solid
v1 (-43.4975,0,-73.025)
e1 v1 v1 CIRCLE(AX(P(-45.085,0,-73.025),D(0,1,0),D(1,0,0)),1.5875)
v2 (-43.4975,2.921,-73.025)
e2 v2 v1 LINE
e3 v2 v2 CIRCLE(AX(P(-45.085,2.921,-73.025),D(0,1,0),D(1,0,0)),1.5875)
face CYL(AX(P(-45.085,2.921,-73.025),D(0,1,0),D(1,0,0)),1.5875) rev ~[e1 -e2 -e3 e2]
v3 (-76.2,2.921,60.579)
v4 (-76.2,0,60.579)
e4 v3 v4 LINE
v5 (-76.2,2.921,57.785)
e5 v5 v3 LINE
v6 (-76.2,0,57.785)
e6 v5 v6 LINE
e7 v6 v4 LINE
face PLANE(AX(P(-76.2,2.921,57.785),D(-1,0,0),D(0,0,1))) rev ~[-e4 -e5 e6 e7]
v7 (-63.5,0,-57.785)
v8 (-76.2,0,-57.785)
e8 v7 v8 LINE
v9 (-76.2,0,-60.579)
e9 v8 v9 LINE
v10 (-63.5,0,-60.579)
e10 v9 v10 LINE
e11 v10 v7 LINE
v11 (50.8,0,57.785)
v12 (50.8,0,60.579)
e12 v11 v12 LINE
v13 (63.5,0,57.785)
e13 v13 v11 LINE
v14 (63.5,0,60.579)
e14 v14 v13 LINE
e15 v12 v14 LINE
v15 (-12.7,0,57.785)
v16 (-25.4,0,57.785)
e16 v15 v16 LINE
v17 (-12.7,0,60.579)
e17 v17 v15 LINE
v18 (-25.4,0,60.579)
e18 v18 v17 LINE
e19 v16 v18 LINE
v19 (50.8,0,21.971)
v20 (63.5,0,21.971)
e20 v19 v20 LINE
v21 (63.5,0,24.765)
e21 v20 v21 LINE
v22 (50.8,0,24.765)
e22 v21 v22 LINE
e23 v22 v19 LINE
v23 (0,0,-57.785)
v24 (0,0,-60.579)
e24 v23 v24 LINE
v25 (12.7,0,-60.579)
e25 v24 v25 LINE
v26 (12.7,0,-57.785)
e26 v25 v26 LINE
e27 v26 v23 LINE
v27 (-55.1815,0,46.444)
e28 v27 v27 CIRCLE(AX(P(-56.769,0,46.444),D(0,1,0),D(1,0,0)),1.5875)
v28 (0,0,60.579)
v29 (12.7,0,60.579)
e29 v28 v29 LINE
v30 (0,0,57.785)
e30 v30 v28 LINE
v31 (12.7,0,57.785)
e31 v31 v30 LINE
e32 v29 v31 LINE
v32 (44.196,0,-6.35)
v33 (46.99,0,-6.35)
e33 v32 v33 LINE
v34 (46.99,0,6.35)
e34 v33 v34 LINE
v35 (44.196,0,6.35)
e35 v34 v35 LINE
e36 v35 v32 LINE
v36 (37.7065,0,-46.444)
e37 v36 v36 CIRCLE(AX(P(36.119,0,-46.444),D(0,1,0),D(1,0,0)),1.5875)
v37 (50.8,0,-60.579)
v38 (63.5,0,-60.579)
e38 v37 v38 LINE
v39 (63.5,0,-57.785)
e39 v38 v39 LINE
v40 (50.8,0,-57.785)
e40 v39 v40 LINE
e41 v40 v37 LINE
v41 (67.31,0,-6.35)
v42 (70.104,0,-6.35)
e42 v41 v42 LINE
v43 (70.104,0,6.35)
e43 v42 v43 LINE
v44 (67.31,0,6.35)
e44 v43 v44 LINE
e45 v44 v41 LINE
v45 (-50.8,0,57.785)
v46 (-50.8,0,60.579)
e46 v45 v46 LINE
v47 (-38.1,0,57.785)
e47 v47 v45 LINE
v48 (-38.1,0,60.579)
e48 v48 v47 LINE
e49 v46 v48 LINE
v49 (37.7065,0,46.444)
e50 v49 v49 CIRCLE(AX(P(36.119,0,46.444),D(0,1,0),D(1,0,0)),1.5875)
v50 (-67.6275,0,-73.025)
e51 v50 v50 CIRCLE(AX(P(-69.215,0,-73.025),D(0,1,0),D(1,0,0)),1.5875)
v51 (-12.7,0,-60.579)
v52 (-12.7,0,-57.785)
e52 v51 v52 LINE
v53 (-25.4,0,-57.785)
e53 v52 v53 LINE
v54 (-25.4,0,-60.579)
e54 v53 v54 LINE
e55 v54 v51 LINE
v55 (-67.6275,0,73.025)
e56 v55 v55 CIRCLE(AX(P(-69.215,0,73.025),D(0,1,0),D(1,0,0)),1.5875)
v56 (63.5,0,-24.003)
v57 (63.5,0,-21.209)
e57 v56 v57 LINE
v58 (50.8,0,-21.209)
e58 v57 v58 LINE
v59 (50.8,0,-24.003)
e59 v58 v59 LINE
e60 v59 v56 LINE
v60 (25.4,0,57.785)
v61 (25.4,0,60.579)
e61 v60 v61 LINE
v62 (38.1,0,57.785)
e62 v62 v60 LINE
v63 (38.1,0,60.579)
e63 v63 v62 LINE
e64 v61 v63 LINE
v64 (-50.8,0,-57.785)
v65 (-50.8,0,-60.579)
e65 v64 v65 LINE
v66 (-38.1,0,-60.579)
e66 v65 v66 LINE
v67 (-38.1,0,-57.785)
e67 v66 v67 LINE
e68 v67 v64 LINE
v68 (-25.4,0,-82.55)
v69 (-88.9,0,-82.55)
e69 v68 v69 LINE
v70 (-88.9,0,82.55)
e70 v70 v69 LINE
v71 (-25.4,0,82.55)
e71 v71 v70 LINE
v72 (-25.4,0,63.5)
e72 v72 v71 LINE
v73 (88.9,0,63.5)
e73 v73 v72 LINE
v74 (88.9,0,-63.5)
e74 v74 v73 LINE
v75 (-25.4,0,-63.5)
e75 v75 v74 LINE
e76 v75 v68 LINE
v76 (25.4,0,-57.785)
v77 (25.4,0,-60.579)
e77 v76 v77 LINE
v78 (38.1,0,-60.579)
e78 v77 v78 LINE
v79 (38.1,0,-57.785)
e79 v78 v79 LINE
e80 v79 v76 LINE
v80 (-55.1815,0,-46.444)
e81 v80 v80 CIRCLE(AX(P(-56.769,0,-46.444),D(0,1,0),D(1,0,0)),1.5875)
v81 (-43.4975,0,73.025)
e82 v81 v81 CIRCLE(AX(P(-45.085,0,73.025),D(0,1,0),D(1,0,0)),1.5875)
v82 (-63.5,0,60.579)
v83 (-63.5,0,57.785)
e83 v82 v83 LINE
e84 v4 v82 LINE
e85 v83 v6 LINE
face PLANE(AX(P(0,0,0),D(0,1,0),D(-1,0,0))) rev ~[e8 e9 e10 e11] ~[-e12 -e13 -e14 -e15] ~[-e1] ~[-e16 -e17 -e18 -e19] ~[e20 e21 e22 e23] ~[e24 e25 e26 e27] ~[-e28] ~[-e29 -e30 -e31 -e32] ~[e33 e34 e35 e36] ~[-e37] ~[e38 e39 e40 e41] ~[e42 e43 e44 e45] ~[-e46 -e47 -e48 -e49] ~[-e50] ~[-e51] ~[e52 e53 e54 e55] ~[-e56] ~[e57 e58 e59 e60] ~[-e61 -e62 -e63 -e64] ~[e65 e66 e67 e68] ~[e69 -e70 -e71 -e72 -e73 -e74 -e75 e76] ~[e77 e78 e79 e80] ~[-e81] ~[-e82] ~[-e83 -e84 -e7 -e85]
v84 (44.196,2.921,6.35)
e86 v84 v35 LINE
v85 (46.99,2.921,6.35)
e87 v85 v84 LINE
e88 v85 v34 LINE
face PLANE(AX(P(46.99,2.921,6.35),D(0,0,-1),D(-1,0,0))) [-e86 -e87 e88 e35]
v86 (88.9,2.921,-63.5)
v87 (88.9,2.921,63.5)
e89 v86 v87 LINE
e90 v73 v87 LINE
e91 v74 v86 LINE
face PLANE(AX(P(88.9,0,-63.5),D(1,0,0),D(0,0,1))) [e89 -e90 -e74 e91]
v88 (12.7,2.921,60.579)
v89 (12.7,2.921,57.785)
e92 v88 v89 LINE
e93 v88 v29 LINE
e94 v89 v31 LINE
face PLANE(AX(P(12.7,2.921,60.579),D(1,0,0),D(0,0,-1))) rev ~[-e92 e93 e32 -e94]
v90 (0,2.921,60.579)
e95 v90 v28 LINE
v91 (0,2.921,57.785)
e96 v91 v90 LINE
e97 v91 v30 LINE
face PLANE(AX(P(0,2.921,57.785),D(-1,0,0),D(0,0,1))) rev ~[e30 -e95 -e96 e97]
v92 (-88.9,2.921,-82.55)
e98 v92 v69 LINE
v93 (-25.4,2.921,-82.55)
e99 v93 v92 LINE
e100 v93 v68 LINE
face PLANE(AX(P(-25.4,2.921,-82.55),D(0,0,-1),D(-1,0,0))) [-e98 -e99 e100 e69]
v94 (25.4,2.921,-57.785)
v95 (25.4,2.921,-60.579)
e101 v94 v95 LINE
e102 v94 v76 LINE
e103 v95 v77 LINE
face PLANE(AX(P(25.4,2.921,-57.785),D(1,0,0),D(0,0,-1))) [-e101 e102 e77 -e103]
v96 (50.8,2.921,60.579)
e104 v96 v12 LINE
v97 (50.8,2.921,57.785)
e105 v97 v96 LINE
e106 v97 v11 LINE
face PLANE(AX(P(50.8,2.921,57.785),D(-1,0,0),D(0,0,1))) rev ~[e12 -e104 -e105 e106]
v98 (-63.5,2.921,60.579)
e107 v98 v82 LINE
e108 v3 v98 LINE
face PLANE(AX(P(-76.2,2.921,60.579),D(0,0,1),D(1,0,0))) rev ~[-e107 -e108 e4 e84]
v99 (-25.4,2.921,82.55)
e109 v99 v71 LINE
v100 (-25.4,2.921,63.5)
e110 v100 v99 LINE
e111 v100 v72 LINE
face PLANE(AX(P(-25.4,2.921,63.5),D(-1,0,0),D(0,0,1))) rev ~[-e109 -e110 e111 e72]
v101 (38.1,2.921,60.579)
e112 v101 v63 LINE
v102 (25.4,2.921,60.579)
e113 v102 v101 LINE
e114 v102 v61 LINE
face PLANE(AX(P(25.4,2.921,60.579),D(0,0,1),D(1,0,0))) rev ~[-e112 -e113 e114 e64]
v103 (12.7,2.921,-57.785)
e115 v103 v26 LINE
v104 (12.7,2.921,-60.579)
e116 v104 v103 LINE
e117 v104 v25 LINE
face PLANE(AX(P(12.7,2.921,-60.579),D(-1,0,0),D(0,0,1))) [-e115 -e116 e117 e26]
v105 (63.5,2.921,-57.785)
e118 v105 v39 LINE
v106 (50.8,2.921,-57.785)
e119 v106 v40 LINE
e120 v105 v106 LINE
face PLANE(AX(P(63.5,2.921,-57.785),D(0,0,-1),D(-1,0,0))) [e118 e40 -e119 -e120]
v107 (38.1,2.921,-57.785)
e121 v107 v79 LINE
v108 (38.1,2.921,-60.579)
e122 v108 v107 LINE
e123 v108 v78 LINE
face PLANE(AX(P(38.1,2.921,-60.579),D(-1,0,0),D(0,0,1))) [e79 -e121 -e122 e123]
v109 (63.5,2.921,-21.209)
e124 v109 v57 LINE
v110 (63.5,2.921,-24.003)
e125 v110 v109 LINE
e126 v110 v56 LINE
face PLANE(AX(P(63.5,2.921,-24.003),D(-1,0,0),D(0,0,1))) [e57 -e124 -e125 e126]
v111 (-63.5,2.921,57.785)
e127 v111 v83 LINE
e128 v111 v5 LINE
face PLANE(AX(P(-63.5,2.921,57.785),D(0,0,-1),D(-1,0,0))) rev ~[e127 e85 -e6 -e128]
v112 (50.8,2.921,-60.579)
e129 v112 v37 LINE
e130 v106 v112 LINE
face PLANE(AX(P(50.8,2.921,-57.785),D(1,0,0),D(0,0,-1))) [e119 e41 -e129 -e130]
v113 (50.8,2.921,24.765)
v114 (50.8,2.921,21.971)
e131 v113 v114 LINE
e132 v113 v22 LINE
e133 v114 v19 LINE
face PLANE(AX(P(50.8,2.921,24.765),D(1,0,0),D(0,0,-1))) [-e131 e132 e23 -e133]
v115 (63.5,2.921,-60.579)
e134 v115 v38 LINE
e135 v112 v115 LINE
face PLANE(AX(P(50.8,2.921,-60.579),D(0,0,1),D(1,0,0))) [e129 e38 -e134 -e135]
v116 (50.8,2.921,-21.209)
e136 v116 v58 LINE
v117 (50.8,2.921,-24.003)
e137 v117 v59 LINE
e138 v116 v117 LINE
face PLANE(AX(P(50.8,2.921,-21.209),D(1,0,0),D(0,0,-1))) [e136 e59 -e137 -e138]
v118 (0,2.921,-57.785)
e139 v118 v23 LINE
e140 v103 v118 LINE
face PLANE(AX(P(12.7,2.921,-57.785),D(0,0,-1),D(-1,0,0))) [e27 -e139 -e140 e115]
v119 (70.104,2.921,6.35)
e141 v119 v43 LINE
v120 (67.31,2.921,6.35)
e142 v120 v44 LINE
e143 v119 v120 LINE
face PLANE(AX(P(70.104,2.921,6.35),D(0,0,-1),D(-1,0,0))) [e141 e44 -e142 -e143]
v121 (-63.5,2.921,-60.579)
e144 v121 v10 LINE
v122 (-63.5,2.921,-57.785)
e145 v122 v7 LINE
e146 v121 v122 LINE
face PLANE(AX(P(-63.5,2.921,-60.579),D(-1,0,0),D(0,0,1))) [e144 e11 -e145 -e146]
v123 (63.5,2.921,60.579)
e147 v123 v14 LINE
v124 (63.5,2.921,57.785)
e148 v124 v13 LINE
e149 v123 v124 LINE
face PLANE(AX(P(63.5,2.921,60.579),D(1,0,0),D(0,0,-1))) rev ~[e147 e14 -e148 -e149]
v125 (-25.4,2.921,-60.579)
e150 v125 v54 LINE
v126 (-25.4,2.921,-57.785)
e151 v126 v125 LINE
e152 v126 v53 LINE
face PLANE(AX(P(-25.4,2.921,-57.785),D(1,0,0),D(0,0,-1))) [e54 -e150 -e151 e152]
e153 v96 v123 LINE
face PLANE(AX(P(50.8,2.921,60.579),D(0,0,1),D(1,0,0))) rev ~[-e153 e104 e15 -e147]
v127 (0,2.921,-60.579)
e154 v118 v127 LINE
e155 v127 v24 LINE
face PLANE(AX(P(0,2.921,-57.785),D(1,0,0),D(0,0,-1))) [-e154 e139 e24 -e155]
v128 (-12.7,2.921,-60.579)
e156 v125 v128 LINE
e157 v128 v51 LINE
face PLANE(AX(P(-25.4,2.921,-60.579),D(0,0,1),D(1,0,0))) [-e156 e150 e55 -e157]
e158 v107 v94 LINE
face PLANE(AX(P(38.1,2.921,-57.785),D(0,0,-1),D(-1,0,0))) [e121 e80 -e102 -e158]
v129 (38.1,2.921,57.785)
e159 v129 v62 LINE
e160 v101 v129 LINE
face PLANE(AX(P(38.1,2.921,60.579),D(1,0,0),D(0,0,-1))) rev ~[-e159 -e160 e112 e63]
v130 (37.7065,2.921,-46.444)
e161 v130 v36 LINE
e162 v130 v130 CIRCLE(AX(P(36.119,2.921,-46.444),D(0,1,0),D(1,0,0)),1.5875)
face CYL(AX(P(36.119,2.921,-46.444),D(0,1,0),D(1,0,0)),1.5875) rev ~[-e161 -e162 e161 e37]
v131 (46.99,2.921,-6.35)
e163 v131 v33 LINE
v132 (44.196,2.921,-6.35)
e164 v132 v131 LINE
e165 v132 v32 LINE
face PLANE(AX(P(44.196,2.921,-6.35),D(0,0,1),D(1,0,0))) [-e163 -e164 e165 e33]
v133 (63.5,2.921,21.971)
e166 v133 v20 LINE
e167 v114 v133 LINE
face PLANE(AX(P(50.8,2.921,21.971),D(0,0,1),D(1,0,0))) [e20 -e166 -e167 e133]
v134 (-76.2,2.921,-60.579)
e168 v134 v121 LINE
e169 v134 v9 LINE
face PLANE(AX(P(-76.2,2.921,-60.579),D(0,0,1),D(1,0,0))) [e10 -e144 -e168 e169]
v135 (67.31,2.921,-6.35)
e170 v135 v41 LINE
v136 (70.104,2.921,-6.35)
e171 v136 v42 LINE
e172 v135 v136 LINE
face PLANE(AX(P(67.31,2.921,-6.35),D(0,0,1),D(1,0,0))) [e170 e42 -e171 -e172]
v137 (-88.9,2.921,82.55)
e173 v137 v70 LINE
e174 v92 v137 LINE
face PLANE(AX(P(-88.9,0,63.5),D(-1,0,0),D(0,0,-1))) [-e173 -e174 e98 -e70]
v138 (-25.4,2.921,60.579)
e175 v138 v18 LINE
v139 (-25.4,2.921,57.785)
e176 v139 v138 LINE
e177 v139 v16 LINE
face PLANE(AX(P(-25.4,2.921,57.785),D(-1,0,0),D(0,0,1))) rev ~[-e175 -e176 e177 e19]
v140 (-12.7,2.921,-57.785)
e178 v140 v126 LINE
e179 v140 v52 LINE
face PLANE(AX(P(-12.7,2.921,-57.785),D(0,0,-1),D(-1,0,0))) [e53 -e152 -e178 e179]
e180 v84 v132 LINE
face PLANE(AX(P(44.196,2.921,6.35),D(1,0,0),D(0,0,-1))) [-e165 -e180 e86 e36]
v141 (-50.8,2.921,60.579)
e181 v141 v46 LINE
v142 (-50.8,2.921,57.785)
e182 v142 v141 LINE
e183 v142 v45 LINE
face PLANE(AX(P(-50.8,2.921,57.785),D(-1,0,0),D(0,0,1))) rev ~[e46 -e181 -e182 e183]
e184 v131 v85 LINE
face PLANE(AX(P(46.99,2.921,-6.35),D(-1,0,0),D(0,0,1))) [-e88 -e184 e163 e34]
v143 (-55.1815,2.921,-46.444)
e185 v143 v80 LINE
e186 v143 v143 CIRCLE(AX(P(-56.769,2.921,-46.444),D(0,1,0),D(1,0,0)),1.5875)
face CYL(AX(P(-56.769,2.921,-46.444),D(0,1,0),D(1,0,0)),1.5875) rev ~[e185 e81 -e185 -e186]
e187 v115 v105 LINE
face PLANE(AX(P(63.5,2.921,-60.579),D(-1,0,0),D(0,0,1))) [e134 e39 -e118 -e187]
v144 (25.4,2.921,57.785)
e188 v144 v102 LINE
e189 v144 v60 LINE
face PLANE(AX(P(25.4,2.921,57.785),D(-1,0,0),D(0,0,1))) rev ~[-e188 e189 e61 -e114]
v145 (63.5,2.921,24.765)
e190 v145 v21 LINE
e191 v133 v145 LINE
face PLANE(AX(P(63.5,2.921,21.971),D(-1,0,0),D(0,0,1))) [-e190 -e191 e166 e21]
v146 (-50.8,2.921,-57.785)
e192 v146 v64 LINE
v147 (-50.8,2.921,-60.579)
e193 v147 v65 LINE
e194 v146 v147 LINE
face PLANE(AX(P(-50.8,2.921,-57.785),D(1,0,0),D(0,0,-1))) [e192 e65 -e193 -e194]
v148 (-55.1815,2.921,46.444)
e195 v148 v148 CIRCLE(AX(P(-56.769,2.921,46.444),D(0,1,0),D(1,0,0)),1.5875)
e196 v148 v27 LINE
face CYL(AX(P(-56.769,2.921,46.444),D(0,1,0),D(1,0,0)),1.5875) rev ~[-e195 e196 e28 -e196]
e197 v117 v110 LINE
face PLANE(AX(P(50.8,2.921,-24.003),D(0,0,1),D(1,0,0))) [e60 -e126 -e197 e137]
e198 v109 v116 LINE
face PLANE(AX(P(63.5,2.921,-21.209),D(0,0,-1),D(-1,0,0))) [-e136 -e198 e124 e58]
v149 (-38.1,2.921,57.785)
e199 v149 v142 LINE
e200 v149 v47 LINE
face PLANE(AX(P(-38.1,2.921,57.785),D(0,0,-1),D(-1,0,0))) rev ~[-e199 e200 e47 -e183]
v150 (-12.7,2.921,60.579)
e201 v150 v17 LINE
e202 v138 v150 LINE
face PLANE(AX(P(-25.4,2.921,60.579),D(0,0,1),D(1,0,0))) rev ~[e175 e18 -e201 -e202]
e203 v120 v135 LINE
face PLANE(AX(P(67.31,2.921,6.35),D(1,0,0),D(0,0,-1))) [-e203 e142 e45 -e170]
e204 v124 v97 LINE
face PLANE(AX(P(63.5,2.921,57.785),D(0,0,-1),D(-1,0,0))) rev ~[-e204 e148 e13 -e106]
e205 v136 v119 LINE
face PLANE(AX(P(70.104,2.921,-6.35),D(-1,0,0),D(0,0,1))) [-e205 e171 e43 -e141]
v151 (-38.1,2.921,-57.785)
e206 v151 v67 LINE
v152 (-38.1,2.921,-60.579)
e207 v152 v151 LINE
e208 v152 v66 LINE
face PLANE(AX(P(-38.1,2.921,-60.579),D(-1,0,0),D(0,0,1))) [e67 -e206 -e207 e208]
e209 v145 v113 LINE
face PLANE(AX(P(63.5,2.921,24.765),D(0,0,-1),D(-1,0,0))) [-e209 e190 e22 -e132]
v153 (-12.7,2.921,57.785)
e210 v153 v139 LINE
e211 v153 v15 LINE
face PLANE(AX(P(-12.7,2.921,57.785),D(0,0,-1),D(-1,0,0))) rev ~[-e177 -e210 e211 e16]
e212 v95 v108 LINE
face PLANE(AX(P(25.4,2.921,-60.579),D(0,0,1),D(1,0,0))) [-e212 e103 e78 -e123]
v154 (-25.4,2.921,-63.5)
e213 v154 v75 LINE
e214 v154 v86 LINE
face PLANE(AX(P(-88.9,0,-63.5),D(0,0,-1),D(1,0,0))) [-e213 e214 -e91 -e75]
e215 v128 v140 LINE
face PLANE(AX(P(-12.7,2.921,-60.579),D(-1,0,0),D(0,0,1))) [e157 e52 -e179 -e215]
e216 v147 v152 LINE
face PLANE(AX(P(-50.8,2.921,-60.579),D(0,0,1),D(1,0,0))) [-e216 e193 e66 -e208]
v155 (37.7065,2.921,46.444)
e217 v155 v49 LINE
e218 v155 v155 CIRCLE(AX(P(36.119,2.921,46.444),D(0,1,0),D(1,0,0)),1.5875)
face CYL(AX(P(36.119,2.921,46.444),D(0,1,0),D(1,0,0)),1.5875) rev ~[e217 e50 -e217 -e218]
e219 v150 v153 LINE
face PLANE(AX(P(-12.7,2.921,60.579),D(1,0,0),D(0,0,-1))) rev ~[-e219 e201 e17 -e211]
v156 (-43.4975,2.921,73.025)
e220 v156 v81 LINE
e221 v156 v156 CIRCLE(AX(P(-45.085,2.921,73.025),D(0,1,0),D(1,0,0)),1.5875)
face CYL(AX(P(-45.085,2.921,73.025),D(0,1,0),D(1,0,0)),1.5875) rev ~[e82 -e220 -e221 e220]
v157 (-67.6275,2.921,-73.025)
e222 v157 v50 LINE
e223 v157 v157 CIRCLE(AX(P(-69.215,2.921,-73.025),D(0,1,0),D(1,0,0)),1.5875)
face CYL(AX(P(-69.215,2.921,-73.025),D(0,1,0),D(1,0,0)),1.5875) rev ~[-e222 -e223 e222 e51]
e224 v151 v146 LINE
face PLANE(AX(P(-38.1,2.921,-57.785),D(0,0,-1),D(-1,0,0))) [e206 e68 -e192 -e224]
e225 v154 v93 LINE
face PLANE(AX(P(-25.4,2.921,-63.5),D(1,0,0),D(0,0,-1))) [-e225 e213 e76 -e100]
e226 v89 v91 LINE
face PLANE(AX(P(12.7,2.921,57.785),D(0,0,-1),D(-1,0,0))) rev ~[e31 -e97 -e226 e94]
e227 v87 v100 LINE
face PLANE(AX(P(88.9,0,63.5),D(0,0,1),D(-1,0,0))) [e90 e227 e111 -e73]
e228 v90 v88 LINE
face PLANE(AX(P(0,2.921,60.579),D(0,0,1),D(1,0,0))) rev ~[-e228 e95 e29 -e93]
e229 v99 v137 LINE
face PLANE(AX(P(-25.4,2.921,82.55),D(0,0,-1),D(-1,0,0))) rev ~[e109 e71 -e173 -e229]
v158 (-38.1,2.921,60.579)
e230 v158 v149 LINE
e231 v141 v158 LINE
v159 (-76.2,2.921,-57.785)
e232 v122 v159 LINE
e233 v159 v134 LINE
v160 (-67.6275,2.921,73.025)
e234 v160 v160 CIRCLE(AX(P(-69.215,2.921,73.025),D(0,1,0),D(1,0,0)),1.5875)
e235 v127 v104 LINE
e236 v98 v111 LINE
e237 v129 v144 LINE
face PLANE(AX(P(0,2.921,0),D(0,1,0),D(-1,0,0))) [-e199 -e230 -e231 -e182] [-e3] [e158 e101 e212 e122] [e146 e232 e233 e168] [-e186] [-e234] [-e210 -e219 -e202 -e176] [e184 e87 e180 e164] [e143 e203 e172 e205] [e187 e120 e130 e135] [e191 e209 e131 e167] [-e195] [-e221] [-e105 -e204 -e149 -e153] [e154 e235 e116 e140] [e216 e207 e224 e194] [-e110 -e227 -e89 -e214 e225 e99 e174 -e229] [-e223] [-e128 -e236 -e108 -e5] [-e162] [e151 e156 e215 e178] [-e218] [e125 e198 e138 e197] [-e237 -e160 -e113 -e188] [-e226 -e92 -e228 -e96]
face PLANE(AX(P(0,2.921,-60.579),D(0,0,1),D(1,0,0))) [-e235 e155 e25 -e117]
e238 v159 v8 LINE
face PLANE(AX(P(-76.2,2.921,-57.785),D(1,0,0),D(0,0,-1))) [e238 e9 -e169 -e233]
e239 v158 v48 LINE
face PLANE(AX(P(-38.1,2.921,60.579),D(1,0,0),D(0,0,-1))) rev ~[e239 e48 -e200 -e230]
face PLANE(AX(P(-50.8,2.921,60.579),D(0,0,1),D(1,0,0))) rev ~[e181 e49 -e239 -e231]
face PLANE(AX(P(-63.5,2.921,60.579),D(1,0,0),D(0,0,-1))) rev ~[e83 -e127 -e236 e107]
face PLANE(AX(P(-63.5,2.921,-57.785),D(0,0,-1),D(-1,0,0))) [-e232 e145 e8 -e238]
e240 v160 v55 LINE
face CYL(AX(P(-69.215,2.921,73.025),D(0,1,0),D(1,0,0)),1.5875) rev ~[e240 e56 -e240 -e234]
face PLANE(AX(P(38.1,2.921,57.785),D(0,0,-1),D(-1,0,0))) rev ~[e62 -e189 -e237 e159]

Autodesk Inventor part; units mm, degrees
ref_plane "YZ Plane" through (0, 0, 0) normal (1, 0, 0) x (0, 1, 0)
ref_plane "XZ Plane" through (0, 0, 0) normal (0, 1, 0) x (-1, 0, 0)
ref_plane "XY Plane" through (0, 0, 0) normal (0, 0, 1) x (1, 0, 0)
sketch "Sketch1" plane through (0, 0, 0) normal (0, 1, 0) x (-1, 0, 0)
  line L0 (-88.9, 63.5) -> (88.9, 63.5)
  line L1 (88.9, 63.5) -> (88.9, -63.5)
  line L2 (88.9, -63.5) -> (-88.9, -63.5)
  line L3 (-88.9, -63.5) -> (-88.9, 63.5)
  line L4 (-88.9, 63.5) -> (88.9, -63.5) construction
  line L5 (88.9, 63.5) -> (-88.9, -63.5) construction
  point P0 (0, 0)
  dimension "d0" = 127
  dimension "d1" = 177.8
extrude "Extrusion1" add sketch "Sketch1" along normal blind 2.921
sketch "Sketch2" plane through (0, 2.921, 0) normal (0, 1, 0) x (1, 0, 0)
  line L0 (-60.325, -50) -> (39.675, -50) construction
  line L1 (39.675, -50) -> (39.675, 50) construction
  line L2 (39.675, 50) -> (-60.325, 50) construction
  line L3 (-60.325, 50) -> (-60.325, -50) construction
  circle A0 centre (36.119, -46.444) radius 1.5875
  circle A1 centre (-56.769, -46.444) radius 1.5875
  circle A2 centre (-56.769, 46.444) radius 1.5875
  circle A3 centre (36.119, 46.444) radius 1.5875
  point P0 (0, 0)
  dimension "d8" = 100
  dimension "d9" = 100
  dimension "d10" = 50
  dimension "d11" = 60.325
  dimension "d12" = 3.175
  dimension "d13" = 3.175
  dimension "d14" = 3.175
  dimension "d15" = 3.175
  dimension "d16" = 3.556
  dimension "d17" = 3.556
  dimension "d18" = 3.556
  dimension "d19" = 3.556
  dimension "d20" = 3.556
  dimension "d21" = 3.556
  dimension "d22" = 3.556
  dimension "d23" = 3.556
extrude "Extrusion2" cut sketch "Sketch2" against normal blind 25.4
sketch "Sketch4" plane through (0, 2.921, 0) normal (0, 1, 0) x (1, 0, 0)
  line L0 (-76.2, -60.579) -> (-63.5, -60.579)
  line L1 (-63.5, -60.579) -> (-63.5, -57.785)
  line L2 (-63.5, -57.785) -> (-76.2, -57.785)
  line L3 (-76.2, -57.785) -> (-76.2, -60.579)
  line L4 (-76.2, 60.579) -> (-63.5, 60.579)
  line L5 (-63.5, 60.579) -> (-63.5, 57.785)
  line L6 (-63.5, 57.785) -> (-76.2, 57.785)
  line L7 (-76.2, 57.785) -> (-76.2, 60.579)
  line L8 (-88.9, -63.5) -> (88.9, -63.5) projected
  line L9 (-88.9, 63.5) -> (-88.9, -63.5) projected
  line L10 (88.9, 63.5) -> (-88.9, 63.5) projected
  line L11 (-50.8, -60.579) -> (-38.1, -60.579)
  line L12 (-38.1, -60.579) -> (-38.1, -57.785)
  line L13 (-38.1, -57.785) -> (-50.8, -57.785)
  line L14 (-50.8, -57.785) -> (-50.8, -60.579)
  line L15 (-50.8, 60.579) -> (-38.1, 60.579)
  line L16 (-38.1, 60.579) -> (-38.1, 57.785)
  line L17 (-38.1, 57.785) -> (-50.8, 57.785)
  line L18 (-50.8, 57.785) -> (-50.8, 60.579)
  line L19 (-25.4, -60.579) -> (-12.7, -60.579)
  line L20 (-12.7, -60.579) -> (-12.7, -57.785)
  line L21 (-12.7, -57.785) -> (-25.4, -57.785)
  line L22 (-25.4, -57.785) -> (-25.4, -60.579)
  line L23 (-25.4, 60.579) -> (-12.7, 60.579)
  line L24 (-12.7, 60.579) -> (-12.7, 57.785)
  line L25 (-12.7, 57.785) -> (-25.4, 57.785)
  line L26 (-25.4, 57.785) -> (-25.4, 60.579)
  line L27 (0, -60.579) -> (12.7, -60.579)
  line L28 (12.7, -60.579) -> (12.7, -57.785)
  line L29 (12.7, -57.785) -> (0, -57.785)
  line L30 (0, -57.785) -> (0, -60.579)
  line L31 (0, 60.579) -> (12.7, 60.579)
  line L32 (12.7, 60.579) -> (12.7, 57.785)
  line L33 (12.7, 57.785) -> (0, 57.785)
  line L34 (0, 57.785) -> (0, 60.579)
  line L35 (25.4, -60.579) -> (38.1, -60.579)
  line L36 (38.1, -60.579) -> (38.1, -57.785)
  line L37 (38.1, -57.785) -> (25.4, -57.785)
  line L38 (25.4, -57.785) -> (25.4, -60.579)
  line L39 (25.4, 60.579) -> (38.1, 60.579)
  line L40 (38.1, 60.579) -> (38.1, 57.785)
  line L41 (38.1, 57.785) -> (25.4, 57.785)
  line L42 (25.4, 57.785) -> (25.4, 60.579)
  line L43 (50.8, -60.579) -> (63.5, -60.579)
  line L44 (63.5, -60.579) -> (63.5, -57.785)
  line L45 (63.5, -57.785) -> (50.8, -57.785)
  line L46 (50.8, -57.785) -> (50.8, -60.579)
  line L47 (50.8, 60.579) -> (63.5, 60.579)
  line L48 (63.5, 60.579) -> (63.5, 57.785)
  line L49 (63.5, 57.785) -> (50.8, 57.785)
  line L50 (50.8, 57.785) -> (50.8, 60.579)
  point P0 (0, 0)
  point P1 (0, -57.15)
  point P2 (0, 57.15)
  dimension "d26" = 2.794
  dimension "d27" = 2.794
  dimension "d28" = 2.921
  dimension "d29" = 12.7
  dimension "d30" = 12.7
  dimension "d31" = 12.7
  dimension "d32" = 2.921
  dimension "d33" = 12.7
  dimension "d36" = 25.4
extrude "Extrusion3" cut sketch "Sketch4" against normal blind 25.4
sketch "Sketch5" plane through (0, 2.921, 0) normal (0, 1, 0) x (1, 0, 0)
  line L0 (-88.9, 63.5) -> (-25.4, 63.5)
  line L1 (-25.4, 63.5) -> (-25.4, 82.55)
  line L2 (-25.4, 82.55) -> (-88.9, 82.55)
  line L3 (-88.9, 82.55) -> (-88.9, 63.5)
  line L4 (-88.9, -63.5) -> (88.9, -63.5) projected
  line L5 (-88.9, -63.5) -> (-25.4, -63.5)
  line L6 (-25.4, -63.5) -> (-25.4, -82.55)
  line L7 (-25.4, -82.55) -> (-88.9, -82.55)
  line L8 (-88.9, -82.55) -> (-88.9, -63.5)
  line L9 (88.9, 63.5) -> (-88.9, 63.5) projected
  line L10 (-88.9, 63.5) -> (-88.9, -63.5) projected
  point P0 (0, 0)
  point P1 (0, -57.15)
  point P2 (0, 57.15)
  point P3 (88.9, -63.5)
  dimension "d43" = 63.5
  dimension "d44" = 19.05
  dimension "d45" = 63.5
  dimension "d46" = 19.05
  dimension "d47" = 0
  dimension "d64" = 0
extrude "Extrusion4" add sketch "Sketch5" against normal blind 2.921
sketch "Sketch6" plane through (0, 2.921, 0) normal (0, 1, 0) x (1, 0, 0)
  circle A0 centre (-69.215, 73.025) radius 1.5875
  circle A1 centre (-69.215, -73.025) radius 1.5875
  circle A2 centre (-45.085, -73.025) radius 1.5875
  circle A3 centre (-45.085, 73.025) radius 1.5875
  line L0 (-25.4, 82.55) -> (-88.9, 82.55) projected
  line L1 (-25.4, -82.55) -> (-88.9, -82.55) projected
  line L2 (-88.9, 82.55) -> (-88.9, -82.55) projected
  point P0 (0, 0)
  dimension "d50" = 3.175
  dimension "d51" = 9.525
  dimension "d52" = 9.525
  dimension "d53" = 24.13
  dimension "d54" = 24.13
  dimension "d55" = 9.525
  dimension "d56" = 9.525
  dimension "d57" = 3.175
  dimension "d58" = 3.175
  dimension "d59" = 3.175
  dimension "d61" = 19.685
  dimension "d65" = 19.685
extrude "Extrusion5" cut sketch "Sketch6" against normal blind 2.921
sketch "Sketch7" plane through (0, 2.921, 0) normal (0, 1, 0) x (1, 0, 0)
  line L0 (50.8, 24.003) -> (63.5, 24.003)
  line L1 (63.5, 24.003) -> (63.5, 21.209)
  line L2 (63.5, 21.209) -> (50.8, 21.209)
  line L3 (50.8, 21.209) -> (50.8, 24.003)
  line L4 (50.8, -21.971) -> (63.5, -21.971)
  line L5 (63.5, -21.971) -> (63.5, -24.765)
  line L6 (63.5, -24.765) -> (50.8, -24.765)
  line L7 (50.8, -24.765) -> (50.8, -21.971)
  line L8 (44.196, 6.35) -> (46.99, 6.35)
  line L9 (46.99, 6.35) -> (46.99, -6.35)
  line L10 (46.99, -6.35) -> (44.196, -6.35)
  line L11 (44.196, -6.35) -> (44.196, 6.35)
  line L12 (67.31, 6.35) -> (70.104, 6.35)
  line L13 (70.104, 6.35) -> (70.104, -6.35)
  line L14 (70.104, -6.35) -> (67.31, -6.35)
  line L15 (67.31, -6.35) -> (67.31, 6.35)
  point P0 (0, 0)
  dimension "d66" = 43.18
  dimension "d67" = 12.7
  dimension "d68" = 21.209
  dimension "d69" = 2.794
  dimension "d70" = 2.794
  dimension "d71" = 50.8
  dimension "d72" = 12.7
  dimension "d73" = 6.35
  dimension "d74" = 20.32
  dimension "d75" = 2.794
  dimension "d76" = 2.794
  dimension "d77" = 3.81
extrude "Extrusion6" cut sketch "Sketch7" against normal blind 2.921
properties part number "Chassis"
